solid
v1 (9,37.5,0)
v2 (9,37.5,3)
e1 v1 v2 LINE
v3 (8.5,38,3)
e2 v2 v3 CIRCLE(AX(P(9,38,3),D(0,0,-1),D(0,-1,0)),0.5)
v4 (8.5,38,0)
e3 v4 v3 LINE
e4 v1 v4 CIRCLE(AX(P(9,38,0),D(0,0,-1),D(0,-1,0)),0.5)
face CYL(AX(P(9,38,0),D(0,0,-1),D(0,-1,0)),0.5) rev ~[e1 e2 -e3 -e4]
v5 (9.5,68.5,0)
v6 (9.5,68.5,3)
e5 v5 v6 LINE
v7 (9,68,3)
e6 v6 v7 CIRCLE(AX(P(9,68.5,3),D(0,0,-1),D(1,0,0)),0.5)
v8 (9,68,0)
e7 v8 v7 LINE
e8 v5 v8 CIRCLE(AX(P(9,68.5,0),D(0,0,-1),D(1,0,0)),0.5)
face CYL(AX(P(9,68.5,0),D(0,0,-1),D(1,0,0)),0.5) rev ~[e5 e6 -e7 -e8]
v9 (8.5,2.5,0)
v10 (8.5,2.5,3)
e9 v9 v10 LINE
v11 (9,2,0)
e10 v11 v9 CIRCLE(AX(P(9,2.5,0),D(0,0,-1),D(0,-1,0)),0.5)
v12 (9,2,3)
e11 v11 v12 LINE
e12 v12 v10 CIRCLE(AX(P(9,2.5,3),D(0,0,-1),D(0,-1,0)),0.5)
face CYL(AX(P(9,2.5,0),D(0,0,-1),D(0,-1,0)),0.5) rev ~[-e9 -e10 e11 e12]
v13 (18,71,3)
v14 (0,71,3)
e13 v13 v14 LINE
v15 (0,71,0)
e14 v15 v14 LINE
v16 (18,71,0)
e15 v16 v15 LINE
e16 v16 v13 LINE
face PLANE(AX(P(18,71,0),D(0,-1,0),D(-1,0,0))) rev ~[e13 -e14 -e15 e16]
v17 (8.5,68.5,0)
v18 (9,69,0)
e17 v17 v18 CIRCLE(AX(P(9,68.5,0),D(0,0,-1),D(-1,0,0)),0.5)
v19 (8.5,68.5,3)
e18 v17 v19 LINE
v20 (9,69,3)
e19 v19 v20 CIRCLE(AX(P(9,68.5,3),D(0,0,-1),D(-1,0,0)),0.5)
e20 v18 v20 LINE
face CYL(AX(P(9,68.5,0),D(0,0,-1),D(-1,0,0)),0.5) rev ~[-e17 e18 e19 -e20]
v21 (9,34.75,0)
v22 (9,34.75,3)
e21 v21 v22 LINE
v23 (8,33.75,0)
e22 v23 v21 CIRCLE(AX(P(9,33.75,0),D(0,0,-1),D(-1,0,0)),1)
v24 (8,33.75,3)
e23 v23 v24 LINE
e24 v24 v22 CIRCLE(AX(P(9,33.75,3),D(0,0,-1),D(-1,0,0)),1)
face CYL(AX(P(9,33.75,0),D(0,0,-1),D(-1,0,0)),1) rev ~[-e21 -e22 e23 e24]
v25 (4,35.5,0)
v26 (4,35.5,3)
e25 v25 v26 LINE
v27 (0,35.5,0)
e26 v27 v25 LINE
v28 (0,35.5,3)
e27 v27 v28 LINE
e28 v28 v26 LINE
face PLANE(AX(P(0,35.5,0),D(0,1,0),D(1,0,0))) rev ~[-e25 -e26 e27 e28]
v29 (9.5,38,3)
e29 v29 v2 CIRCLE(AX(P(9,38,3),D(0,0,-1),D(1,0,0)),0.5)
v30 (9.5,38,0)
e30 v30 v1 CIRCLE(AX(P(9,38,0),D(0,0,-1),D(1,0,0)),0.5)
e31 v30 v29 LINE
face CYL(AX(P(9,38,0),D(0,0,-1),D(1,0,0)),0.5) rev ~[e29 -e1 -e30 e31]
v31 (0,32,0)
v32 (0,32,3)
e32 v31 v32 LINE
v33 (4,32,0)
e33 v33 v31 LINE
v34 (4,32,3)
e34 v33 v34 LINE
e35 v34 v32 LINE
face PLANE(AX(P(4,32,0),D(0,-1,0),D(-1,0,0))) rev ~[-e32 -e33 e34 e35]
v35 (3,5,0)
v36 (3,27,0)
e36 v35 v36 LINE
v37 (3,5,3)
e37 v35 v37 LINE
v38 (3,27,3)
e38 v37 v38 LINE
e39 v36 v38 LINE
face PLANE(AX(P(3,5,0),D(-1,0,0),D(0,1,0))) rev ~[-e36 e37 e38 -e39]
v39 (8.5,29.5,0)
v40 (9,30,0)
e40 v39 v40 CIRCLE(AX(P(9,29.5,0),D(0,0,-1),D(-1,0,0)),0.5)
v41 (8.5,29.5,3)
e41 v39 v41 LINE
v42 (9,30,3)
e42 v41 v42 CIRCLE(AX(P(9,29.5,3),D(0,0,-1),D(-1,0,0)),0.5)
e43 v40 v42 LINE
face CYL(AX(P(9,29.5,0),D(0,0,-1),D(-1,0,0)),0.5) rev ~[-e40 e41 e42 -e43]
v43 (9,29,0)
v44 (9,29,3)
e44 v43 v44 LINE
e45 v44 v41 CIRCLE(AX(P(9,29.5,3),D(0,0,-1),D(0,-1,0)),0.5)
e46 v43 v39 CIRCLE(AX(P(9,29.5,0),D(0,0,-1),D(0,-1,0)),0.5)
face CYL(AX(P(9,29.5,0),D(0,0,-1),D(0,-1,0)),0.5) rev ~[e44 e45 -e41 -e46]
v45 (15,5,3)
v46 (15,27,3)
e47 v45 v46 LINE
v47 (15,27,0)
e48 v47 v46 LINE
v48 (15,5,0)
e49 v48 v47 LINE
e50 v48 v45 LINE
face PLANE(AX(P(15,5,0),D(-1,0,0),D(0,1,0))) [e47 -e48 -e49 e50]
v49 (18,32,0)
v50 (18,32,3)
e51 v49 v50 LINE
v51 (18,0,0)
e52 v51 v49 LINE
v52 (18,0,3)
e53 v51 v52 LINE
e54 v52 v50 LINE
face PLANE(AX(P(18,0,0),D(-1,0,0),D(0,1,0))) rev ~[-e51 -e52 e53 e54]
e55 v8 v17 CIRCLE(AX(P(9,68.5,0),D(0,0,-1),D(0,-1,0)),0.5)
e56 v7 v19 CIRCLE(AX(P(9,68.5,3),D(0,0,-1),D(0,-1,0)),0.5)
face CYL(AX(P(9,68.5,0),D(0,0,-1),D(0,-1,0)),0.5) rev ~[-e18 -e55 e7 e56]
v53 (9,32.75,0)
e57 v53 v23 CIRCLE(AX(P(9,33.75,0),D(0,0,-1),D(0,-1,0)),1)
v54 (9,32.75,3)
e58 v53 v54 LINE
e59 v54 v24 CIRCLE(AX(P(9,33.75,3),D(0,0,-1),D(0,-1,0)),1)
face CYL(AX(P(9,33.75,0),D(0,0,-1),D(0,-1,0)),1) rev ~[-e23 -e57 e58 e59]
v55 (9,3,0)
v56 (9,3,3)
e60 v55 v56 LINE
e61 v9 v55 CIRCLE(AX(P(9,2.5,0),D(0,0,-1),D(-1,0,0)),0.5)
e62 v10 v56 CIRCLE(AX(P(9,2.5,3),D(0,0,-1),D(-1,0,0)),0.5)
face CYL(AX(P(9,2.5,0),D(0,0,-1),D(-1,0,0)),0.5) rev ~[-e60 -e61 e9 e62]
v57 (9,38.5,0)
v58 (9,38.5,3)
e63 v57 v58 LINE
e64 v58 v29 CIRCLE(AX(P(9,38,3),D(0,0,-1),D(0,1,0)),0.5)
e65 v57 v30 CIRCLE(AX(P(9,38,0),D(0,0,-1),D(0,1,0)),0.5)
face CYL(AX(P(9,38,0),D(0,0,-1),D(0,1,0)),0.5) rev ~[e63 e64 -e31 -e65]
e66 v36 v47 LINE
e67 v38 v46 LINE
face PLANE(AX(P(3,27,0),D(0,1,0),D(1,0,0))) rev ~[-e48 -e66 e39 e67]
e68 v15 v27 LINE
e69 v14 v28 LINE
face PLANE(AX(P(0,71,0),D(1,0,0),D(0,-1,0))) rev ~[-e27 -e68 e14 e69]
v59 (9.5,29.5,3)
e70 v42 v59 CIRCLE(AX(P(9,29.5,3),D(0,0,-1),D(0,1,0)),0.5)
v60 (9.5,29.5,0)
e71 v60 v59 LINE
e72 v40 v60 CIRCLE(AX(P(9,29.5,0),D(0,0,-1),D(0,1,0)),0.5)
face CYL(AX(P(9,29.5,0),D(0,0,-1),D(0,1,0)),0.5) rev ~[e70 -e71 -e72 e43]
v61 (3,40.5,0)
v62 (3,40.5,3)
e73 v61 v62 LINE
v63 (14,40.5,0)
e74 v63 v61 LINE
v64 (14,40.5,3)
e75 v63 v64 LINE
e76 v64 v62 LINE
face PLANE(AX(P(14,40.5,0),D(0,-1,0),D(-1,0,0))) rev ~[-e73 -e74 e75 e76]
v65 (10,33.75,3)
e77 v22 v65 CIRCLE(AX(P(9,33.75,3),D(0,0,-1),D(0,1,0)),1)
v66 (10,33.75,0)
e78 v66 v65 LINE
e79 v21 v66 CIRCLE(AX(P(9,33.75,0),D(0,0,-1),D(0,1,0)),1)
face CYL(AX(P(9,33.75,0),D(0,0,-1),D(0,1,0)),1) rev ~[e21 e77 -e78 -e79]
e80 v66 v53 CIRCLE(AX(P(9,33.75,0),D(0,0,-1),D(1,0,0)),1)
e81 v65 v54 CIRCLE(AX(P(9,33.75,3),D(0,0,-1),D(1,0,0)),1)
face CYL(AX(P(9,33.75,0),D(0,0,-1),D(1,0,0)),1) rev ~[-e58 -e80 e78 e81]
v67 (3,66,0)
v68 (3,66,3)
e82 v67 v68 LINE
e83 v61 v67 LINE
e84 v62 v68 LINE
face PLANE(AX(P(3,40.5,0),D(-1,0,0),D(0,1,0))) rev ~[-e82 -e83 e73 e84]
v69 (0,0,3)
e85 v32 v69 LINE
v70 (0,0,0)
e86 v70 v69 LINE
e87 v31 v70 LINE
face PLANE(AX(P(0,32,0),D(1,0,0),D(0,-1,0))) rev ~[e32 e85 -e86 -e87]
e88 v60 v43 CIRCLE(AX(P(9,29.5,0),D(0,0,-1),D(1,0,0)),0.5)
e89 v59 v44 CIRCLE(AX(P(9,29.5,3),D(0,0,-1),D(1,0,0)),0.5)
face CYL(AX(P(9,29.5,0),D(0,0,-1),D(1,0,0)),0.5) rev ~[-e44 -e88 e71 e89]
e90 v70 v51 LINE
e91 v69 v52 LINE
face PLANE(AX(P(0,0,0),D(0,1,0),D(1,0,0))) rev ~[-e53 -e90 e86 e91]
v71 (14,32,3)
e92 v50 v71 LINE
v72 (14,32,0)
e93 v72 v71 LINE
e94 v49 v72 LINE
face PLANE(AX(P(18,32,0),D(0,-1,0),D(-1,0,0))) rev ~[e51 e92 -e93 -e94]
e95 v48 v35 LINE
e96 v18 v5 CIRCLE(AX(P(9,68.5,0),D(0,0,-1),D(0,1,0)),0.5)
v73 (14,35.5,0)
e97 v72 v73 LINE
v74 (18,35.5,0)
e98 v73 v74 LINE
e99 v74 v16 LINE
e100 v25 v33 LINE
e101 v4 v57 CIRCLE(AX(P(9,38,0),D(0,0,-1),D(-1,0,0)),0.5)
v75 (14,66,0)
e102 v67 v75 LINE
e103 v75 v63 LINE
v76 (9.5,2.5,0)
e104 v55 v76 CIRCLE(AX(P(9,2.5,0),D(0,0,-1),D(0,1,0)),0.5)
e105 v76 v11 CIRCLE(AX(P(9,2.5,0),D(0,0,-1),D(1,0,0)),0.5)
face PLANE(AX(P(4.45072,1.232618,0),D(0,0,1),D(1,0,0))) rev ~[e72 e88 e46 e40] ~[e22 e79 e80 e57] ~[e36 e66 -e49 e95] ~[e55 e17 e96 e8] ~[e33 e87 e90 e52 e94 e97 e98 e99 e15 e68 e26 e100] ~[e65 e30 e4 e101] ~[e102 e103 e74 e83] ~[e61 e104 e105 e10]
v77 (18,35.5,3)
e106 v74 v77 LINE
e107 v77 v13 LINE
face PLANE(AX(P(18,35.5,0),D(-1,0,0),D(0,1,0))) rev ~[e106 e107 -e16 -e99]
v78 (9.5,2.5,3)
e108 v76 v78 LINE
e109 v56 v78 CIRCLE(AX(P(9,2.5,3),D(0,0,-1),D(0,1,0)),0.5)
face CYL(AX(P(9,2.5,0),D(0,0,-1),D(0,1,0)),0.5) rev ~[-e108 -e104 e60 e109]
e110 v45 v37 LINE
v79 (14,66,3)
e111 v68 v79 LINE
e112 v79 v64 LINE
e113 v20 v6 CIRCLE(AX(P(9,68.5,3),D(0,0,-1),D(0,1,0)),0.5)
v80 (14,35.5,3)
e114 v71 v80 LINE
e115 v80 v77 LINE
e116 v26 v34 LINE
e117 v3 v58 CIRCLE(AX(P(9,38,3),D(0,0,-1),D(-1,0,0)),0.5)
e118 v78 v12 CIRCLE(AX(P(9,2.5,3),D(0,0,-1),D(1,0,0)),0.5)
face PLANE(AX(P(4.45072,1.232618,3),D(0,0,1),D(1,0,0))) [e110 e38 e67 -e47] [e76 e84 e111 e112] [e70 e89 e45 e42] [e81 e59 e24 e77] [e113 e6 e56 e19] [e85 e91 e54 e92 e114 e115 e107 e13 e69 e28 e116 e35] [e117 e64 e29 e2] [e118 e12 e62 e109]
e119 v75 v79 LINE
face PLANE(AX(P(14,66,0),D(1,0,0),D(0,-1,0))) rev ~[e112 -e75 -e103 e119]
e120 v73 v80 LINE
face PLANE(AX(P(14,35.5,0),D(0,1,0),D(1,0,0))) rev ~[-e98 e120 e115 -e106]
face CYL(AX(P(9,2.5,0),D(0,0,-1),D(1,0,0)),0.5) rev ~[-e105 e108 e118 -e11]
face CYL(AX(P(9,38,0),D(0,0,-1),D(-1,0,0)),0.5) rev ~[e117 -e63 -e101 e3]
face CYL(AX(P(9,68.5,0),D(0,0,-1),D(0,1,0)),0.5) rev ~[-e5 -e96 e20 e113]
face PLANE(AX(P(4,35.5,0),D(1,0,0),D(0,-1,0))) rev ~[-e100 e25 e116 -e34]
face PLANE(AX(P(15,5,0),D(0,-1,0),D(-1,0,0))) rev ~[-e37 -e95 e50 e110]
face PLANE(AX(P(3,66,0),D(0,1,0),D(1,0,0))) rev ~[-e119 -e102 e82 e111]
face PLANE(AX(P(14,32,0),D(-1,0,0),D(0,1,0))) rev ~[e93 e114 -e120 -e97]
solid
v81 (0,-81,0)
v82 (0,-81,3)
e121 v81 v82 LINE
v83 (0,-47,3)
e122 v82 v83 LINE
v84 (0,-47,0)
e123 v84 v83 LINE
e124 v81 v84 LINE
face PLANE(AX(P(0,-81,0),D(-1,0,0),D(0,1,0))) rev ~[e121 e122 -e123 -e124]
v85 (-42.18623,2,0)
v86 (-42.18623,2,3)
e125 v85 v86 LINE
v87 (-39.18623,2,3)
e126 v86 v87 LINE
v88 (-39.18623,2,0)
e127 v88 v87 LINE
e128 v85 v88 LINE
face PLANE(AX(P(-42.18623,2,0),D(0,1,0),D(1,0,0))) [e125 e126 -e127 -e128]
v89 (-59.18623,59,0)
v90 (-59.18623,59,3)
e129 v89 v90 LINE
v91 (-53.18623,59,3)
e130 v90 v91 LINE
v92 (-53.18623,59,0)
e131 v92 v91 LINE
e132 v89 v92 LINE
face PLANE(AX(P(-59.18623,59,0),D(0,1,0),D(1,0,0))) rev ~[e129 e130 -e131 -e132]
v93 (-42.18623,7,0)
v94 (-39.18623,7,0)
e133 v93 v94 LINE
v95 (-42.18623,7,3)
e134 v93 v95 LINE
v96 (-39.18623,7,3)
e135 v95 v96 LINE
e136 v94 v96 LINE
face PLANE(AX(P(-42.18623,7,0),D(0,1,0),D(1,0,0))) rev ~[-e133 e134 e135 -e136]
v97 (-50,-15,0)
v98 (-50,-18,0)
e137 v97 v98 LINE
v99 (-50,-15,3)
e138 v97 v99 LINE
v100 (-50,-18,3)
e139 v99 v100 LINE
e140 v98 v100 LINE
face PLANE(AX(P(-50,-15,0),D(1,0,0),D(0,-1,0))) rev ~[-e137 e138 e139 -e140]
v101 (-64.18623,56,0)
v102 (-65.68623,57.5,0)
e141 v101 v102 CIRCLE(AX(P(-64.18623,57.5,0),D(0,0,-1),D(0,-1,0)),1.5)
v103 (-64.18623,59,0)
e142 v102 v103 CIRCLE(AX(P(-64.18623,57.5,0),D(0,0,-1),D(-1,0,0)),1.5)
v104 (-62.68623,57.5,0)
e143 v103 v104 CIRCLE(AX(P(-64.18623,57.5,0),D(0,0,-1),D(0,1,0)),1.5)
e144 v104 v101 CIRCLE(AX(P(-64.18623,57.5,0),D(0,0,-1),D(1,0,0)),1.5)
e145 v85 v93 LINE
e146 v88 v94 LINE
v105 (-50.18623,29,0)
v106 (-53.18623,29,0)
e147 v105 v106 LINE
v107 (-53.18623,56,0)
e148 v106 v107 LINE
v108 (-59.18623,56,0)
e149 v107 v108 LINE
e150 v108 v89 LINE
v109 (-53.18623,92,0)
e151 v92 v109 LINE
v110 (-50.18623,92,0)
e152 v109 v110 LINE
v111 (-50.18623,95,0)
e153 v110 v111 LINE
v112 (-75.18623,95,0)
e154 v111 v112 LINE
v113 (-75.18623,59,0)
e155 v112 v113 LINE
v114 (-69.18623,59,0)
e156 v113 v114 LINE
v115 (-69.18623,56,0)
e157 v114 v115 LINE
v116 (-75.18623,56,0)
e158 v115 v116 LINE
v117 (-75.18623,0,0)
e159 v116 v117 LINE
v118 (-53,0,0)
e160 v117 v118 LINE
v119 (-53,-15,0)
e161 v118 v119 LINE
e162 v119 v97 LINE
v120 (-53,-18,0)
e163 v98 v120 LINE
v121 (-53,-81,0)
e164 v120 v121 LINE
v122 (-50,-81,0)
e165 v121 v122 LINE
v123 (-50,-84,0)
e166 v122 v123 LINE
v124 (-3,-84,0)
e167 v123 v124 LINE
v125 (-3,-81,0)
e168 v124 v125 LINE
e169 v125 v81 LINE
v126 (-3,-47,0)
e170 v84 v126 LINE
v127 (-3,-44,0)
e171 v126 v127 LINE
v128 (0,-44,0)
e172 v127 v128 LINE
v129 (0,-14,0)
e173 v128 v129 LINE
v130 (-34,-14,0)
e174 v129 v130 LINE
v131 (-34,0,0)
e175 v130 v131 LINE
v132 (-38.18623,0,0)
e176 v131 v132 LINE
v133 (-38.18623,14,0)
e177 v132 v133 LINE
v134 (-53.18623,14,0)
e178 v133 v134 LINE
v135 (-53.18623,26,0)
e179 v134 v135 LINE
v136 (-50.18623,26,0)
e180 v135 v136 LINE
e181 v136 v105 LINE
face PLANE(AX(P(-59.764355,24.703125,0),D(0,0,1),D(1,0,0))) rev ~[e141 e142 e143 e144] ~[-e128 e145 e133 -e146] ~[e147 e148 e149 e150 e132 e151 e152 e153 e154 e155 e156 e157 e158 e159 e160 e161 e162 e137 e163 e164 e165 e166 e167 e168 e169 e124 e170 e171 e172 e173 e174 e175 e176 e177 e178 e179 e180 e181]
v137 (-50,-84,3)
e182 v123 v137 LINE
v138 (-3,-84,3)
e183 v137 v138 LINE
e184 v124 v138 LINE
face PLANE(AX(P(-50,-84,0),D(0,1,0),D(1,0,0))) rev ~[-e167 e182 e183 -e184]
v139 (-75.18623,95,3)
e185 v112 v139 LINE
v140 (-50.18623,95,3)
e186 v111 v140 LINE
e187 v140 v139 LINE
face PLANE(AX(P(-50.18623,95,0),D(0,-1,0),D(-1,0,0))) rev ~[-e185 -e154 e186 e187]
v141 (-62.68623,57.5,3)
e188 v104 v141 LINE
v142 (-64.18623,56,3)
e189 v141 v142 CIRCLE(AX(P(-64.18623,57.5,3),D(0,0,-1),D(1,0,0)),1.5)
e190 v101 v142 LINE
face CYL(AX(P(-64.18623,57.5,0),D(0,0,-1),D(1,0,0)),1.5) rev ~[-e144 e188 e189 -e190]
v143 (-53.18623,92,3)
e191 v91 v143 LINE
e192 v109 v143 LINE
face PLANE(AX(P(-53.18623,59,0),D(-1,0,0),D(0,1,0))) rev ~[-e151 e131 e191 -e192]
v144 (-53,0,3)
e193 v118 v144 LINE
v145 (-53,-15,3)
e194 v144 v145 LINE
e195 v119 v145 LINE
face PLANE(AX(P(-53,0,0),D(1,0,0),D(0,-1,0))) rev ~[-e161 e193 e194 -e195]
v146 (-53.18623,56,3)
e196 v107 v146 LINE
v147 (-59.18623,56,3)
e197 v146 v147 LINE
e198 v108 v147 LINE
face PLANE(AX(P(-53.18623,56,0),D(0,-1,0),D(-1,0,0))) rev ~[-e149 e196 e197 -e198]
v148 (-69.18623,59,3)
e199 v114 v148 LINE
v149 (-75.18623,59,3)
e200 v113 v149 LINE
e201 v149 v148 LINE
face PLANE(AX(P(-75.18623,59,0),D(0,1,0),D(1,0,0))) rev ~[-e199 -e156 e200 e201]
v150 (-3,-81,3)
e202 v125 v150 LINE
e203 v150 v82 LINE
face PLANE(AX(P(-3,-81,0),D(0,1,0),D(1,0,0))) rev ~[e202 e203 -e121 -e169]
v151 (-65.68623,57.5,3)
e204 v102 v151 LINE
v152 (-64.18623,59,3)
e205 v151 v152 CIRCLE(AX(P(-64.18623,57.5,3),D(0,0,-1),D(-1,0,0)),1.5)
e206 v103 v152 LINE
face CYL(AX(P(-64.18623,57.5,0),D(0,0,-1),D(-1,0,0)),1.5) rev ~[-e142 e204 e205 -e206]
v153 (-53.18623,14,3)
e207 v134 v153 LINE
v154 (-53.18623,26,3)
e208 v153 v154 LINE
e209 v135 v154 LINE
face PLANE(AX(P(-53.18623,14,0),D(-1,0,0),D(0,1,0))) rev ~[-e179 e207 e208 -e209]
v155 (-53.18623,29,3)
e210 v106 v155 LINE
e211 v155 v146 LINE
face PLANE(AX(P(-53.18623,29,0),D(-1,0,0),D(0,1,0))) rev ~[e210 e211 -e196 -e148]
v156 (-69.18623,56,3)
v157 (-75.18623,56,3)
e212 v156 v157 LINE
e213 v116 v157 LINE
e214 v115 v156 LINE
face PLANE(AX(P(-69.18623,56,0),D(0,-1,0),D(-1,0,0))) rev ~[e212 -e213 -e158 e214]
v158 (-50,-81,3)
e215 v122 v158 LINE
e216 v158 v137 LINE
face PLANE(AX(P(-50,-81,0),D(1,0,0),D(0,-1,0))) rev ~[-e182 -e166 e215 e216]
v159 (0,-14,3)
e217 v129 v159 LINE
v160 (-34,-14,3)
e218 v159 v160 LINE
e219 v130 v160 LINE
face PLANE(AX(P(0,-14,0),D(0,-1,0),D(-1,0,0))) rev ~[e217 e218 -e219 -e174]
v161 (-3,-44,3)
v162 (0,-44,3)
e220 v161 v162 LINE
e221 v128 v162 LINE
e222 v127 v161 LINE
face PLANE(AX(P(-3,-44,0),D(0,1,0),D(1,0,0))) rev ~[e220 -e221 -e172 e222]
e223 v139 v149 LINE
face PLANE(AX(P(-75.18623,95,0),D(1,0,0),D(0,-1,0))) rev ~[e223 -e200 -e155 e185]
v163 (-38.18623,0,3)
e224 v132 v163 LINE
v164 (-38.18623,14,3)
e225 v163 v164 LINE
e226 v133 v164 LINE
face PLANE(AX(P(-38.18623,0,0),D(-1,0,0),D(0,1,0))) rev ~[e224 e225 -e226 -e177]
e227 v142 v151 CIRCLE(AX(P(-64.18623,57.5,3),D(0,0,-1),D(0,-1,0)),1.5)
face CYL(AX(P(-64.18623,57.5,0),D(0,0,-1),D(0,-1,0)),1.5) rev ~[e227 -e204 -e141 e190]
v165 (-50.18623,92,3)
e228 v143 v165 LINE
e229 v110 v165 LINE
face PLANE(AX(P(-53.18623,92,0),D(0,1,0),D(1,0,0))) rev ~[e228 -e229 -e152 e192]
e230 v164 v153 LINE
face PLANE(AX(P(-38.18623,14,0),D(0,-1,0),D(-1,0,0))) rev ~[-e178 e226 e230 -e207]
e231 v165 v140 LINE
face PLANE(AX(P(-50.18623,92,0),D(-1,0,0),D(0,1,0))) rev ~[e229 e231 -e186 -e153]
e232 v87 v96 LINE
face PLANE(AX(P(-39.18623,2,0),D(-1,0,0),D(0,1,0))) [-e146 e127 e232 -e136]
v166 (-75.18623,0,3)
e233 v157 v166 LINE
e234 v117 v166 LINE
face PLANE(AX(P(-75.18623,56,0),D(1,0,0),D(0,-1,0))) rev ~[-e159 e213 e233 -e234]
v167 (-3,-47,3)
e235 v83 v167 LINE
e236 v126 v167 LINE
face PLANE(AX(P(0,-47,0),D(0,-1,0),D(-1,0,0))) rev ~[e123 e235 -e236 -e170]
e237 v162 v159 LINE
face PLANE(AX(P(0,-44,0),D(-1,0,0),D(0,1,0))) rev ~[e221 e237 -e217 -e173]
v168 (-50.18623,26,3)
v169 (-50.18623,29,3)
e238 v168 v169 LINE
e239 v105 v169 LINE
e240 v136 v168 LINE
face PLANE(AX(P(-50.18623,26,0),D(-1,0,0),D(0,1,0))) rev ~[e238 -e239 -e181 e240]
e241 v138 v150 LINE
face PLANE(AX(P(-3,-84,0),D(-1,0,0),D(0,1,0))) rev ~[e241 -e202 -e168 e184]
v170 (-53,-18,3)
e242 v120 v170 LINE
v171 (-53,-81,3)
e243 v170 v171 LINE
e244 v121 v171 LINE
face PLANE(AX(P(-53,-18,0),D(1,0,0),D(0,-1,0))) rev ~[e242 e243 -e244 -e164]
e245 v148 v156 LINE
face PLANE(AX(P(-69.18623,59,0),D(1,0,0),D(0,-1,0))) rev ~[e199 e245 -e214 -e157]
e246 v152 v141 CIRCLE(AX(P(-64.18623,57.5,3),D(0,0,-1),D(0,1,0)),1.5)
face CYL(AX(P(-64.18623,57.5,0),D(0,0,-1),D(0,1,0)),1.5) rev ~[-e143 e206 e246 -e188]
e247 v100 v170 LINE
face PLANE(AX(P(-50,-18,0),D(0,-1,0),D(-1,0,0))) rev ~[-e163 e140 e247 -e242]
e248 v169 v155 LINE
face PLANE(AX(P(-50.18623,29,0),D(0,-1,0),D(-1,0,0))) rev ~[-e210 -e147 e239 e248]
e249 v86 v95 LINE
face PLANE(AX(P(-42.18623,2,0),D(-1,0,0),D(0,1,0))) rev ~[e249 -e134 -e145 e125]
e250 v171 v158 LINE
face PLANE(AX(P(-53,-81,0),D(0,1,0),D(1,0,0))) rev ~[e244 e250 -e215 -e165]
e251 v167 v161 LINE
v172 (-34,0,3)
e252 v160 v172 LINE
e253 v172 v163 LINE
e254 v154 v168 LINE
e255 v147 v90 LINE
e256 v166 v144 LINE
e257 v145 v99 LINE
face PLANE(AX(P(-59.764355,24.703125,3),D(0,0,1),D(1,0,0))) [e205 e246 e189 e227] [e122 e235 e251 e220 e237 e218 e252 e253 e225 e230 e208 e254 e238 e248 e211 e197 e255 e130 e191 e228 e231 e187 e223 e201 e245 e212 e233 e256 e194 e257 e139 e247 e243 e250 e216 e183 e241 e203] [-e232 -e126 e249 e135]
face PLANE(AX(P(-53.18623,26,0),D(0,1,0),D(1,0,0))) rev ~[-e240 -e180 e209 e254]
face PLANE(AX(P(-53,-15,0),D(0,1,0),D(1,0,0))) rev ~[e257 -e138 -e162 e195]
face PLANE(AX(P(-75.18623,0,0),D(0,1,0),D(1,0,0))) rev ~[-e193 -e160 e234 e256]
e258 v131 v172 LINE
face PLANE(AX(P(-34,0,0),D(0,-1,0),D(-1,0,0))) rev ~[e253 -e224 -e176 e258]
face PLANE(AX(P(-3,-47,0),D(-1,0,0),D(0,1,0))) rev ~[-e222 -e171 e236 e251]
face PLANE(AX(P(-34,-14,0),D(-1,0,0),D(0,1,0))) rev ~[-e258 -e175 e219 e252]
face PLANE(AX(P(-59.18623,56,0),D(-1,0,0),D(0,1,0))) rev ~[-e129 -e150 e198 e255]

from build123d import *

# Parameters (mm, degrees)
F0_W     = 3
F0_H     = 22
F0_W_2   = 4
F0_H_2   = 2.5
F0_H_3   = 25.5
F1_DEPTH = 3
F3_DEPTH = 3
F4_W     = 3
F4_H     = 5
F5_DEPTH = 3


with BuildPart() as f1:
    # F0 (on Top) → F1 (new body)
    with BuildSketch(Plane.XY):
        with BuildLine():
            Line((0, 2.5), (0, 0))
            Line((0, 0), (9, 0))
            Line((9, 0), (9, 2))
            ThreePointArc((9, 2), (8.6464466094, 2.1464466094), (8.5, 2.5))
            Line((8.5, 2.5), (0, 2.5))
        make_face()
        with BuildLine():
            Line((0, 5), (0, 2.5))
            Line((0, 2.5), (8.5, 2.5))
            ThreePointArc((8.5, 2.5), (8.6464466094, 2.8535533906), (9, 3))
            Line((9, 3), (9, 5))
            Line((9, 5), (8.0080386251, 5))
            Line((8.0080386251, 5), (4.5, 5))
            Line((4.5, 5), (3, 5))
            Line((3, 5), (2.25, 5))
            Line((2.25, 5), (0, 5))
        make_face()
        with BuildLine():
            Line((9, 2), (9, 0))
            Line((9, 0), (18, 0))
            Line((18, 0), (18, 2.5))
            Line((18, 2.5), (9.5, 2.5))
            ThreePointArc((9.5, 2.5), (9.3535533906, 2.1464466094), (9, 2))
        make_face()
        Polygon((0, 27), (0, 5), (2.25, 5), (3, 5), (3, 27), align=None)
        with BuildLine():
            Line((0, 29.5), (0, 27))
            Line((0, 27), (3, 27))
            Line((3, 27), (9, 27))
            Line((9, 27), (9, 29))
            ThreePointArc((9, 29), (8.6464466094, 29.1464466094), (8.5, 29.5))
            Line((8.5, 29.5), (0, 29.5))
        make_face()
        with BuildLine():
            Line((9, 5), (9, 3))
            ThreePointArc((9, 3), (9.3535533906, 2.8535533906), (9.5, 2.5))
            Line((9.5, 2.5), (18, 2.5))
            Line((18, 2.5), (18, 5))
            Line((18, 5), (15, 5))
            Line((15, 5), (13.5, 5))
            Line((13.5, 5), (9, 5))
        make_face()
        with BuildLine():
            Line((0, 32), (0, 29.5))
            Line((0, 29.5), (8.5, 29.5))
            ThreePointArc((8.5, 29.5), (8.6464466094, 29.8535533906), (9, 30))
            Line((9, 30), (9, 32))
            Line((9, 32), (4, 32))
            Line((4, 32), (0, 32))
        make_face()
        with Locations((16.5, 16)):
            Rectangle(F0_W, F0_H)
        with BuildLine():
            Line((9, 29), (9, 27))
            Line((9, 27), (15, 27))
            Line((15, 27), (18, 27))
            Line((18, 27), (18, 29.5))
            Line((18, 29.5), (9.5, 29.5))
            ThreePointArc((9.5, 29.5), (9.3535533906, 29.1464466094), (9, 29))
        make_face()
        with BuildLine():
            Line((4, 33.75), (4, 32))
            Line((4, 32), (9, 32))
            Line((9, 32), (9, 32.75))
            ThreePointArc((9, 32.75), (8.2928932188, 33.0428932188), (8, 33.75))
            Line((8, 33.75), (4, 33.75))
        make_face()
        with BuildLine():
            Line((9, 32), (9, 30))
            ThreePointArc((9, 30), (9.3535533906, 29.8535533906), (9.5, 29.5))
            Line((9.5, 29.5), (18, 29.5))
            Line((18, 29.5), (18, 32))
            Line((18, 32), (14, 32))
            Line((14, 32), (9, 32))
        make_face()
        with BuildLine():
            Line((9, 32.75), (9, 32))
            Line((9, 32), (14, 32))
            Line((14, 32), (14, 33.75))
            Line((14, 33.75), (10, 33.75))
            ThreePointArc((10, 33.75), (9.7071067812, 33.0428932188), (9, 32.75))
        make_face()
        with BuildLine():
            Line((4, 35.5), (4, 33.75))
            Line((4, 33.75), (8, 33.75))
            ThreePointArc((8, 33.75), (8.2928932188, 34.4571067812), (9, 34.75))
            Line((9, 34.75), (9, 35.5))
            Line((9, 35.5), (4, 35.5))
        make_face()
        with BuildLine():
            Line((4, 38), (4, 35.5))
            Line((4, 35.5), (9, 35.5))
            Line((9, 35.5), (9, 37.5))
            ThreePointArc((9, 37.5), (8.6464466094, 37.6464466094), (8.5, 38))
            Line((8.5, 38), (4, 38))
        make_face()
        with Locations((2, 36.75)):
            Rectangle(F0_W_2, F0_H_2)
        with BuildLine():
            Line((10, 33.75), (14, 33.75))
            Line((14, 33.75), (14, 35.5))
            Line((14, 35.5), (9, 35.5))
            Line((9, 35.5), (9, 34.75))
            ThreePointArc((9, 34.75), (9.7071067812, 34.4571067812), (10, 33.75))
        make_face()
        with BuildLine():
            Line((9, 37.5), (9, 35.5))
            Line((9, 35.5), (14, 35.5))
            Line((14, 35.5), (18, 35.5))
            Line((18, 35.5), (18, 38))
            Line((18, 38), (9.5, 38))
            ThreePointArc((9.5, 38), (9.3535533906, 37.6464466094), (9, 37.5))
        make_face()
        Polygon((0, 38), (4, 38), (4, 40.5), (3, 40.5), (0, 40.5), align=None)
        with BuildLine():
            ThreePointArc((9, 38.5), (9.3535533906, 38.3535533906), (9.5, 38))
            Line((9.5, 38), (18, 38))
            Line((18, 38), (18, 40.5))
            Line((18, 40.5), (14, 40.5))
            Line((14, 40.5), (9, 40.5))
            Line((9, 40.5), (9, 38.5))
        make_face()
        with Locations((1.5, 53.25)):
            Rectangle(F0_W, F0_H_3)
        Polygon((0, 71), (0, 66), (3, 66), (3, 68.5), (3, 71), align=None)
        with Locations((16, 53.25)):
            Rectangle(F0_W_2, F0_H_3)
        Polygon((14, 68.5), (14, 66), (18, 66), (18, 71), (14, 71), align=None)
        with BuildLine():
            Line((3, 71), (3, 68.5))
            Line((3, 68.5), (8.5, 68.5))
            ThreePointArc((8.5, 68.5), (8.6464466094, 68.8535533906), (9, 69))
            Line((9, 69), (9, 71))
            Line((9, 71), (3, 71))
        make_face()
        with BuildLine():
            Line((9.5, 68.5), (14, 68.5))
            Line((14, 68.5), (14, 71))
            Line((14, 71), (9, 71))
            Line((9, 71), (9, 69))
            ThreePointArc((9, 69), (9.3535533906, 68.8535533906), (9.5, 68.5))
        make_face()
        with BuildLine():
            Line((4, 40.5), (4, 38))
            Line((4, 38), (8.5, 38))
            ThreePointArc((8.5, 38), (8.6464466094, 38.3535533906), (9, 38.5))
            Line((9, 38.5), (9, 40.5))
            Line((9, 40.5), (4, 40.5))
        make_face()
        with BuildLine():
            Line((3, 68.5), (3, 66))
            Line((3, 66), (9, 66))
            Line((9, 66), (9, 68))
            ThreePointArc((9, 68), (8.6464466094, 68.1464466094), (8.5, 68.5))
            Line((8.5, 68.5), (3, 68.5))
        make_face()
        with BuildLine():
            Line((9, 66), (14, 66))
            Line((14, 66), (14, 68.5))
            Line((14, 68.5), (9.5, 68.5))
            ThreePointArc((9.5, 68.5), (9.3535533906, 68.1464466094), (9, 68))
            Line((9, 68), (9, 66))
        make_face()
    extrude(amount=F1_DEPTH)


with BuildPart() as f3:
    # F2 (on Top) → F3 (new body)
    with BuildSketch(Plane.XY):
        Polygon((-34, 0), (-53, 0), (-53, -15), (-50, -15), (-50, -18), (-53, -18), (-53, -81), (-50, -81), (-50, -84), (-3, -84), (-3, -81), (0, -81), (0, -47), (-3, -47), (-3, -44), (0, -44), (0, -14), (-34, -14), align=None)
    extrude(amount=F3_DEPTH)

    # F4 (on Top) → F5 (join)
    with BuildSketch(Plane.XY):
        Polygon((-75.1862302423, 56), (-75.1862302423, 0), (-38.1862302423, 0), (-38.1862302423, 14), (-50.1862302423, 14), (-53.1862302423, 14), (-53.1862302423, 26), (-50.1862302423, 26), (-50.1862302423, 29), (-53.1862302423, 29), (-53.1862302423, 56), (-59.1862302423, 56), (-64.1862302423, 56), (-69.1862302423, 56), align=None)
        with Locations((-40.6862302423, 4.5)):
            Rectangle(F4_W, F4_H, mode=Mode.SUBTRACT)
        with BuildLine():
            Line((-69.1862302423, 57.5), (-69.1862302423, 56))
            Line((-69.1862302423, 56), (-64.1862302423, 56))
            ThreePointArc((-64.1862302423, 56), (-65.246890414, 56.4393398282), (-65.6862302423, 57.5))
            Line((-65.6862302423, 57.5), (-69.1862302423, 57.5))
        make_face()
        with BuildLine():
            Line((-69.1862302423, 59), (-69.1862302423, 57.5))
            Line((-69.1862302423, 57.5), (-65.6862302423, 57.5))
            ThreePointArc((-65.6862302423, 57.5), (-65.246890414, 58.5606601718), (-64.1862302423, 59))
            Line((-64.1862302423, 59), (-69.1862302423, 59))
        make_face()
        with BuildLine():
            ThreePointArc((-62.6862302423, 57.5), (-63.1255700705, 56.4393398282), (-64.1862302423, 56))
            Line((-64.1862302423, 56), (-59.1862302423, 56))
            Line((-59.1862302423, 56), (-59.1862302423, 57.5))
            Line((-59.1862302423, 57.5), (-62.6862302423, 57.5))
        make_face()
        Polygon((-75.1862302423, 59), (-69.1862302423, 59), (-64.1862302423, 59), (-59.1862302423, 59), (-53.1862302423, 59), (-53.1862302423, 92), (-50.1862302423, 92), (-50.1862302423, 95), (-75.1862302423, 95), align=None)
        with BuildLine():
            ThreePointArc((-64.1862302423, 59), (-63.1255700705, 58.5606601718), (-62.6862302423, 57.5))
            Line((-62.6862302423, 57.5), (-59.1862302423, 57.5))
            Line((-59.1862302423, 57.5), (-59.1862302423, 59))
            Line((-59.1862302423, 59), (-64.1862302423, 59))
        make_face()
    extrude(amount=F5_DEPTH)


solid = Compound([f1.part, f3.part])
